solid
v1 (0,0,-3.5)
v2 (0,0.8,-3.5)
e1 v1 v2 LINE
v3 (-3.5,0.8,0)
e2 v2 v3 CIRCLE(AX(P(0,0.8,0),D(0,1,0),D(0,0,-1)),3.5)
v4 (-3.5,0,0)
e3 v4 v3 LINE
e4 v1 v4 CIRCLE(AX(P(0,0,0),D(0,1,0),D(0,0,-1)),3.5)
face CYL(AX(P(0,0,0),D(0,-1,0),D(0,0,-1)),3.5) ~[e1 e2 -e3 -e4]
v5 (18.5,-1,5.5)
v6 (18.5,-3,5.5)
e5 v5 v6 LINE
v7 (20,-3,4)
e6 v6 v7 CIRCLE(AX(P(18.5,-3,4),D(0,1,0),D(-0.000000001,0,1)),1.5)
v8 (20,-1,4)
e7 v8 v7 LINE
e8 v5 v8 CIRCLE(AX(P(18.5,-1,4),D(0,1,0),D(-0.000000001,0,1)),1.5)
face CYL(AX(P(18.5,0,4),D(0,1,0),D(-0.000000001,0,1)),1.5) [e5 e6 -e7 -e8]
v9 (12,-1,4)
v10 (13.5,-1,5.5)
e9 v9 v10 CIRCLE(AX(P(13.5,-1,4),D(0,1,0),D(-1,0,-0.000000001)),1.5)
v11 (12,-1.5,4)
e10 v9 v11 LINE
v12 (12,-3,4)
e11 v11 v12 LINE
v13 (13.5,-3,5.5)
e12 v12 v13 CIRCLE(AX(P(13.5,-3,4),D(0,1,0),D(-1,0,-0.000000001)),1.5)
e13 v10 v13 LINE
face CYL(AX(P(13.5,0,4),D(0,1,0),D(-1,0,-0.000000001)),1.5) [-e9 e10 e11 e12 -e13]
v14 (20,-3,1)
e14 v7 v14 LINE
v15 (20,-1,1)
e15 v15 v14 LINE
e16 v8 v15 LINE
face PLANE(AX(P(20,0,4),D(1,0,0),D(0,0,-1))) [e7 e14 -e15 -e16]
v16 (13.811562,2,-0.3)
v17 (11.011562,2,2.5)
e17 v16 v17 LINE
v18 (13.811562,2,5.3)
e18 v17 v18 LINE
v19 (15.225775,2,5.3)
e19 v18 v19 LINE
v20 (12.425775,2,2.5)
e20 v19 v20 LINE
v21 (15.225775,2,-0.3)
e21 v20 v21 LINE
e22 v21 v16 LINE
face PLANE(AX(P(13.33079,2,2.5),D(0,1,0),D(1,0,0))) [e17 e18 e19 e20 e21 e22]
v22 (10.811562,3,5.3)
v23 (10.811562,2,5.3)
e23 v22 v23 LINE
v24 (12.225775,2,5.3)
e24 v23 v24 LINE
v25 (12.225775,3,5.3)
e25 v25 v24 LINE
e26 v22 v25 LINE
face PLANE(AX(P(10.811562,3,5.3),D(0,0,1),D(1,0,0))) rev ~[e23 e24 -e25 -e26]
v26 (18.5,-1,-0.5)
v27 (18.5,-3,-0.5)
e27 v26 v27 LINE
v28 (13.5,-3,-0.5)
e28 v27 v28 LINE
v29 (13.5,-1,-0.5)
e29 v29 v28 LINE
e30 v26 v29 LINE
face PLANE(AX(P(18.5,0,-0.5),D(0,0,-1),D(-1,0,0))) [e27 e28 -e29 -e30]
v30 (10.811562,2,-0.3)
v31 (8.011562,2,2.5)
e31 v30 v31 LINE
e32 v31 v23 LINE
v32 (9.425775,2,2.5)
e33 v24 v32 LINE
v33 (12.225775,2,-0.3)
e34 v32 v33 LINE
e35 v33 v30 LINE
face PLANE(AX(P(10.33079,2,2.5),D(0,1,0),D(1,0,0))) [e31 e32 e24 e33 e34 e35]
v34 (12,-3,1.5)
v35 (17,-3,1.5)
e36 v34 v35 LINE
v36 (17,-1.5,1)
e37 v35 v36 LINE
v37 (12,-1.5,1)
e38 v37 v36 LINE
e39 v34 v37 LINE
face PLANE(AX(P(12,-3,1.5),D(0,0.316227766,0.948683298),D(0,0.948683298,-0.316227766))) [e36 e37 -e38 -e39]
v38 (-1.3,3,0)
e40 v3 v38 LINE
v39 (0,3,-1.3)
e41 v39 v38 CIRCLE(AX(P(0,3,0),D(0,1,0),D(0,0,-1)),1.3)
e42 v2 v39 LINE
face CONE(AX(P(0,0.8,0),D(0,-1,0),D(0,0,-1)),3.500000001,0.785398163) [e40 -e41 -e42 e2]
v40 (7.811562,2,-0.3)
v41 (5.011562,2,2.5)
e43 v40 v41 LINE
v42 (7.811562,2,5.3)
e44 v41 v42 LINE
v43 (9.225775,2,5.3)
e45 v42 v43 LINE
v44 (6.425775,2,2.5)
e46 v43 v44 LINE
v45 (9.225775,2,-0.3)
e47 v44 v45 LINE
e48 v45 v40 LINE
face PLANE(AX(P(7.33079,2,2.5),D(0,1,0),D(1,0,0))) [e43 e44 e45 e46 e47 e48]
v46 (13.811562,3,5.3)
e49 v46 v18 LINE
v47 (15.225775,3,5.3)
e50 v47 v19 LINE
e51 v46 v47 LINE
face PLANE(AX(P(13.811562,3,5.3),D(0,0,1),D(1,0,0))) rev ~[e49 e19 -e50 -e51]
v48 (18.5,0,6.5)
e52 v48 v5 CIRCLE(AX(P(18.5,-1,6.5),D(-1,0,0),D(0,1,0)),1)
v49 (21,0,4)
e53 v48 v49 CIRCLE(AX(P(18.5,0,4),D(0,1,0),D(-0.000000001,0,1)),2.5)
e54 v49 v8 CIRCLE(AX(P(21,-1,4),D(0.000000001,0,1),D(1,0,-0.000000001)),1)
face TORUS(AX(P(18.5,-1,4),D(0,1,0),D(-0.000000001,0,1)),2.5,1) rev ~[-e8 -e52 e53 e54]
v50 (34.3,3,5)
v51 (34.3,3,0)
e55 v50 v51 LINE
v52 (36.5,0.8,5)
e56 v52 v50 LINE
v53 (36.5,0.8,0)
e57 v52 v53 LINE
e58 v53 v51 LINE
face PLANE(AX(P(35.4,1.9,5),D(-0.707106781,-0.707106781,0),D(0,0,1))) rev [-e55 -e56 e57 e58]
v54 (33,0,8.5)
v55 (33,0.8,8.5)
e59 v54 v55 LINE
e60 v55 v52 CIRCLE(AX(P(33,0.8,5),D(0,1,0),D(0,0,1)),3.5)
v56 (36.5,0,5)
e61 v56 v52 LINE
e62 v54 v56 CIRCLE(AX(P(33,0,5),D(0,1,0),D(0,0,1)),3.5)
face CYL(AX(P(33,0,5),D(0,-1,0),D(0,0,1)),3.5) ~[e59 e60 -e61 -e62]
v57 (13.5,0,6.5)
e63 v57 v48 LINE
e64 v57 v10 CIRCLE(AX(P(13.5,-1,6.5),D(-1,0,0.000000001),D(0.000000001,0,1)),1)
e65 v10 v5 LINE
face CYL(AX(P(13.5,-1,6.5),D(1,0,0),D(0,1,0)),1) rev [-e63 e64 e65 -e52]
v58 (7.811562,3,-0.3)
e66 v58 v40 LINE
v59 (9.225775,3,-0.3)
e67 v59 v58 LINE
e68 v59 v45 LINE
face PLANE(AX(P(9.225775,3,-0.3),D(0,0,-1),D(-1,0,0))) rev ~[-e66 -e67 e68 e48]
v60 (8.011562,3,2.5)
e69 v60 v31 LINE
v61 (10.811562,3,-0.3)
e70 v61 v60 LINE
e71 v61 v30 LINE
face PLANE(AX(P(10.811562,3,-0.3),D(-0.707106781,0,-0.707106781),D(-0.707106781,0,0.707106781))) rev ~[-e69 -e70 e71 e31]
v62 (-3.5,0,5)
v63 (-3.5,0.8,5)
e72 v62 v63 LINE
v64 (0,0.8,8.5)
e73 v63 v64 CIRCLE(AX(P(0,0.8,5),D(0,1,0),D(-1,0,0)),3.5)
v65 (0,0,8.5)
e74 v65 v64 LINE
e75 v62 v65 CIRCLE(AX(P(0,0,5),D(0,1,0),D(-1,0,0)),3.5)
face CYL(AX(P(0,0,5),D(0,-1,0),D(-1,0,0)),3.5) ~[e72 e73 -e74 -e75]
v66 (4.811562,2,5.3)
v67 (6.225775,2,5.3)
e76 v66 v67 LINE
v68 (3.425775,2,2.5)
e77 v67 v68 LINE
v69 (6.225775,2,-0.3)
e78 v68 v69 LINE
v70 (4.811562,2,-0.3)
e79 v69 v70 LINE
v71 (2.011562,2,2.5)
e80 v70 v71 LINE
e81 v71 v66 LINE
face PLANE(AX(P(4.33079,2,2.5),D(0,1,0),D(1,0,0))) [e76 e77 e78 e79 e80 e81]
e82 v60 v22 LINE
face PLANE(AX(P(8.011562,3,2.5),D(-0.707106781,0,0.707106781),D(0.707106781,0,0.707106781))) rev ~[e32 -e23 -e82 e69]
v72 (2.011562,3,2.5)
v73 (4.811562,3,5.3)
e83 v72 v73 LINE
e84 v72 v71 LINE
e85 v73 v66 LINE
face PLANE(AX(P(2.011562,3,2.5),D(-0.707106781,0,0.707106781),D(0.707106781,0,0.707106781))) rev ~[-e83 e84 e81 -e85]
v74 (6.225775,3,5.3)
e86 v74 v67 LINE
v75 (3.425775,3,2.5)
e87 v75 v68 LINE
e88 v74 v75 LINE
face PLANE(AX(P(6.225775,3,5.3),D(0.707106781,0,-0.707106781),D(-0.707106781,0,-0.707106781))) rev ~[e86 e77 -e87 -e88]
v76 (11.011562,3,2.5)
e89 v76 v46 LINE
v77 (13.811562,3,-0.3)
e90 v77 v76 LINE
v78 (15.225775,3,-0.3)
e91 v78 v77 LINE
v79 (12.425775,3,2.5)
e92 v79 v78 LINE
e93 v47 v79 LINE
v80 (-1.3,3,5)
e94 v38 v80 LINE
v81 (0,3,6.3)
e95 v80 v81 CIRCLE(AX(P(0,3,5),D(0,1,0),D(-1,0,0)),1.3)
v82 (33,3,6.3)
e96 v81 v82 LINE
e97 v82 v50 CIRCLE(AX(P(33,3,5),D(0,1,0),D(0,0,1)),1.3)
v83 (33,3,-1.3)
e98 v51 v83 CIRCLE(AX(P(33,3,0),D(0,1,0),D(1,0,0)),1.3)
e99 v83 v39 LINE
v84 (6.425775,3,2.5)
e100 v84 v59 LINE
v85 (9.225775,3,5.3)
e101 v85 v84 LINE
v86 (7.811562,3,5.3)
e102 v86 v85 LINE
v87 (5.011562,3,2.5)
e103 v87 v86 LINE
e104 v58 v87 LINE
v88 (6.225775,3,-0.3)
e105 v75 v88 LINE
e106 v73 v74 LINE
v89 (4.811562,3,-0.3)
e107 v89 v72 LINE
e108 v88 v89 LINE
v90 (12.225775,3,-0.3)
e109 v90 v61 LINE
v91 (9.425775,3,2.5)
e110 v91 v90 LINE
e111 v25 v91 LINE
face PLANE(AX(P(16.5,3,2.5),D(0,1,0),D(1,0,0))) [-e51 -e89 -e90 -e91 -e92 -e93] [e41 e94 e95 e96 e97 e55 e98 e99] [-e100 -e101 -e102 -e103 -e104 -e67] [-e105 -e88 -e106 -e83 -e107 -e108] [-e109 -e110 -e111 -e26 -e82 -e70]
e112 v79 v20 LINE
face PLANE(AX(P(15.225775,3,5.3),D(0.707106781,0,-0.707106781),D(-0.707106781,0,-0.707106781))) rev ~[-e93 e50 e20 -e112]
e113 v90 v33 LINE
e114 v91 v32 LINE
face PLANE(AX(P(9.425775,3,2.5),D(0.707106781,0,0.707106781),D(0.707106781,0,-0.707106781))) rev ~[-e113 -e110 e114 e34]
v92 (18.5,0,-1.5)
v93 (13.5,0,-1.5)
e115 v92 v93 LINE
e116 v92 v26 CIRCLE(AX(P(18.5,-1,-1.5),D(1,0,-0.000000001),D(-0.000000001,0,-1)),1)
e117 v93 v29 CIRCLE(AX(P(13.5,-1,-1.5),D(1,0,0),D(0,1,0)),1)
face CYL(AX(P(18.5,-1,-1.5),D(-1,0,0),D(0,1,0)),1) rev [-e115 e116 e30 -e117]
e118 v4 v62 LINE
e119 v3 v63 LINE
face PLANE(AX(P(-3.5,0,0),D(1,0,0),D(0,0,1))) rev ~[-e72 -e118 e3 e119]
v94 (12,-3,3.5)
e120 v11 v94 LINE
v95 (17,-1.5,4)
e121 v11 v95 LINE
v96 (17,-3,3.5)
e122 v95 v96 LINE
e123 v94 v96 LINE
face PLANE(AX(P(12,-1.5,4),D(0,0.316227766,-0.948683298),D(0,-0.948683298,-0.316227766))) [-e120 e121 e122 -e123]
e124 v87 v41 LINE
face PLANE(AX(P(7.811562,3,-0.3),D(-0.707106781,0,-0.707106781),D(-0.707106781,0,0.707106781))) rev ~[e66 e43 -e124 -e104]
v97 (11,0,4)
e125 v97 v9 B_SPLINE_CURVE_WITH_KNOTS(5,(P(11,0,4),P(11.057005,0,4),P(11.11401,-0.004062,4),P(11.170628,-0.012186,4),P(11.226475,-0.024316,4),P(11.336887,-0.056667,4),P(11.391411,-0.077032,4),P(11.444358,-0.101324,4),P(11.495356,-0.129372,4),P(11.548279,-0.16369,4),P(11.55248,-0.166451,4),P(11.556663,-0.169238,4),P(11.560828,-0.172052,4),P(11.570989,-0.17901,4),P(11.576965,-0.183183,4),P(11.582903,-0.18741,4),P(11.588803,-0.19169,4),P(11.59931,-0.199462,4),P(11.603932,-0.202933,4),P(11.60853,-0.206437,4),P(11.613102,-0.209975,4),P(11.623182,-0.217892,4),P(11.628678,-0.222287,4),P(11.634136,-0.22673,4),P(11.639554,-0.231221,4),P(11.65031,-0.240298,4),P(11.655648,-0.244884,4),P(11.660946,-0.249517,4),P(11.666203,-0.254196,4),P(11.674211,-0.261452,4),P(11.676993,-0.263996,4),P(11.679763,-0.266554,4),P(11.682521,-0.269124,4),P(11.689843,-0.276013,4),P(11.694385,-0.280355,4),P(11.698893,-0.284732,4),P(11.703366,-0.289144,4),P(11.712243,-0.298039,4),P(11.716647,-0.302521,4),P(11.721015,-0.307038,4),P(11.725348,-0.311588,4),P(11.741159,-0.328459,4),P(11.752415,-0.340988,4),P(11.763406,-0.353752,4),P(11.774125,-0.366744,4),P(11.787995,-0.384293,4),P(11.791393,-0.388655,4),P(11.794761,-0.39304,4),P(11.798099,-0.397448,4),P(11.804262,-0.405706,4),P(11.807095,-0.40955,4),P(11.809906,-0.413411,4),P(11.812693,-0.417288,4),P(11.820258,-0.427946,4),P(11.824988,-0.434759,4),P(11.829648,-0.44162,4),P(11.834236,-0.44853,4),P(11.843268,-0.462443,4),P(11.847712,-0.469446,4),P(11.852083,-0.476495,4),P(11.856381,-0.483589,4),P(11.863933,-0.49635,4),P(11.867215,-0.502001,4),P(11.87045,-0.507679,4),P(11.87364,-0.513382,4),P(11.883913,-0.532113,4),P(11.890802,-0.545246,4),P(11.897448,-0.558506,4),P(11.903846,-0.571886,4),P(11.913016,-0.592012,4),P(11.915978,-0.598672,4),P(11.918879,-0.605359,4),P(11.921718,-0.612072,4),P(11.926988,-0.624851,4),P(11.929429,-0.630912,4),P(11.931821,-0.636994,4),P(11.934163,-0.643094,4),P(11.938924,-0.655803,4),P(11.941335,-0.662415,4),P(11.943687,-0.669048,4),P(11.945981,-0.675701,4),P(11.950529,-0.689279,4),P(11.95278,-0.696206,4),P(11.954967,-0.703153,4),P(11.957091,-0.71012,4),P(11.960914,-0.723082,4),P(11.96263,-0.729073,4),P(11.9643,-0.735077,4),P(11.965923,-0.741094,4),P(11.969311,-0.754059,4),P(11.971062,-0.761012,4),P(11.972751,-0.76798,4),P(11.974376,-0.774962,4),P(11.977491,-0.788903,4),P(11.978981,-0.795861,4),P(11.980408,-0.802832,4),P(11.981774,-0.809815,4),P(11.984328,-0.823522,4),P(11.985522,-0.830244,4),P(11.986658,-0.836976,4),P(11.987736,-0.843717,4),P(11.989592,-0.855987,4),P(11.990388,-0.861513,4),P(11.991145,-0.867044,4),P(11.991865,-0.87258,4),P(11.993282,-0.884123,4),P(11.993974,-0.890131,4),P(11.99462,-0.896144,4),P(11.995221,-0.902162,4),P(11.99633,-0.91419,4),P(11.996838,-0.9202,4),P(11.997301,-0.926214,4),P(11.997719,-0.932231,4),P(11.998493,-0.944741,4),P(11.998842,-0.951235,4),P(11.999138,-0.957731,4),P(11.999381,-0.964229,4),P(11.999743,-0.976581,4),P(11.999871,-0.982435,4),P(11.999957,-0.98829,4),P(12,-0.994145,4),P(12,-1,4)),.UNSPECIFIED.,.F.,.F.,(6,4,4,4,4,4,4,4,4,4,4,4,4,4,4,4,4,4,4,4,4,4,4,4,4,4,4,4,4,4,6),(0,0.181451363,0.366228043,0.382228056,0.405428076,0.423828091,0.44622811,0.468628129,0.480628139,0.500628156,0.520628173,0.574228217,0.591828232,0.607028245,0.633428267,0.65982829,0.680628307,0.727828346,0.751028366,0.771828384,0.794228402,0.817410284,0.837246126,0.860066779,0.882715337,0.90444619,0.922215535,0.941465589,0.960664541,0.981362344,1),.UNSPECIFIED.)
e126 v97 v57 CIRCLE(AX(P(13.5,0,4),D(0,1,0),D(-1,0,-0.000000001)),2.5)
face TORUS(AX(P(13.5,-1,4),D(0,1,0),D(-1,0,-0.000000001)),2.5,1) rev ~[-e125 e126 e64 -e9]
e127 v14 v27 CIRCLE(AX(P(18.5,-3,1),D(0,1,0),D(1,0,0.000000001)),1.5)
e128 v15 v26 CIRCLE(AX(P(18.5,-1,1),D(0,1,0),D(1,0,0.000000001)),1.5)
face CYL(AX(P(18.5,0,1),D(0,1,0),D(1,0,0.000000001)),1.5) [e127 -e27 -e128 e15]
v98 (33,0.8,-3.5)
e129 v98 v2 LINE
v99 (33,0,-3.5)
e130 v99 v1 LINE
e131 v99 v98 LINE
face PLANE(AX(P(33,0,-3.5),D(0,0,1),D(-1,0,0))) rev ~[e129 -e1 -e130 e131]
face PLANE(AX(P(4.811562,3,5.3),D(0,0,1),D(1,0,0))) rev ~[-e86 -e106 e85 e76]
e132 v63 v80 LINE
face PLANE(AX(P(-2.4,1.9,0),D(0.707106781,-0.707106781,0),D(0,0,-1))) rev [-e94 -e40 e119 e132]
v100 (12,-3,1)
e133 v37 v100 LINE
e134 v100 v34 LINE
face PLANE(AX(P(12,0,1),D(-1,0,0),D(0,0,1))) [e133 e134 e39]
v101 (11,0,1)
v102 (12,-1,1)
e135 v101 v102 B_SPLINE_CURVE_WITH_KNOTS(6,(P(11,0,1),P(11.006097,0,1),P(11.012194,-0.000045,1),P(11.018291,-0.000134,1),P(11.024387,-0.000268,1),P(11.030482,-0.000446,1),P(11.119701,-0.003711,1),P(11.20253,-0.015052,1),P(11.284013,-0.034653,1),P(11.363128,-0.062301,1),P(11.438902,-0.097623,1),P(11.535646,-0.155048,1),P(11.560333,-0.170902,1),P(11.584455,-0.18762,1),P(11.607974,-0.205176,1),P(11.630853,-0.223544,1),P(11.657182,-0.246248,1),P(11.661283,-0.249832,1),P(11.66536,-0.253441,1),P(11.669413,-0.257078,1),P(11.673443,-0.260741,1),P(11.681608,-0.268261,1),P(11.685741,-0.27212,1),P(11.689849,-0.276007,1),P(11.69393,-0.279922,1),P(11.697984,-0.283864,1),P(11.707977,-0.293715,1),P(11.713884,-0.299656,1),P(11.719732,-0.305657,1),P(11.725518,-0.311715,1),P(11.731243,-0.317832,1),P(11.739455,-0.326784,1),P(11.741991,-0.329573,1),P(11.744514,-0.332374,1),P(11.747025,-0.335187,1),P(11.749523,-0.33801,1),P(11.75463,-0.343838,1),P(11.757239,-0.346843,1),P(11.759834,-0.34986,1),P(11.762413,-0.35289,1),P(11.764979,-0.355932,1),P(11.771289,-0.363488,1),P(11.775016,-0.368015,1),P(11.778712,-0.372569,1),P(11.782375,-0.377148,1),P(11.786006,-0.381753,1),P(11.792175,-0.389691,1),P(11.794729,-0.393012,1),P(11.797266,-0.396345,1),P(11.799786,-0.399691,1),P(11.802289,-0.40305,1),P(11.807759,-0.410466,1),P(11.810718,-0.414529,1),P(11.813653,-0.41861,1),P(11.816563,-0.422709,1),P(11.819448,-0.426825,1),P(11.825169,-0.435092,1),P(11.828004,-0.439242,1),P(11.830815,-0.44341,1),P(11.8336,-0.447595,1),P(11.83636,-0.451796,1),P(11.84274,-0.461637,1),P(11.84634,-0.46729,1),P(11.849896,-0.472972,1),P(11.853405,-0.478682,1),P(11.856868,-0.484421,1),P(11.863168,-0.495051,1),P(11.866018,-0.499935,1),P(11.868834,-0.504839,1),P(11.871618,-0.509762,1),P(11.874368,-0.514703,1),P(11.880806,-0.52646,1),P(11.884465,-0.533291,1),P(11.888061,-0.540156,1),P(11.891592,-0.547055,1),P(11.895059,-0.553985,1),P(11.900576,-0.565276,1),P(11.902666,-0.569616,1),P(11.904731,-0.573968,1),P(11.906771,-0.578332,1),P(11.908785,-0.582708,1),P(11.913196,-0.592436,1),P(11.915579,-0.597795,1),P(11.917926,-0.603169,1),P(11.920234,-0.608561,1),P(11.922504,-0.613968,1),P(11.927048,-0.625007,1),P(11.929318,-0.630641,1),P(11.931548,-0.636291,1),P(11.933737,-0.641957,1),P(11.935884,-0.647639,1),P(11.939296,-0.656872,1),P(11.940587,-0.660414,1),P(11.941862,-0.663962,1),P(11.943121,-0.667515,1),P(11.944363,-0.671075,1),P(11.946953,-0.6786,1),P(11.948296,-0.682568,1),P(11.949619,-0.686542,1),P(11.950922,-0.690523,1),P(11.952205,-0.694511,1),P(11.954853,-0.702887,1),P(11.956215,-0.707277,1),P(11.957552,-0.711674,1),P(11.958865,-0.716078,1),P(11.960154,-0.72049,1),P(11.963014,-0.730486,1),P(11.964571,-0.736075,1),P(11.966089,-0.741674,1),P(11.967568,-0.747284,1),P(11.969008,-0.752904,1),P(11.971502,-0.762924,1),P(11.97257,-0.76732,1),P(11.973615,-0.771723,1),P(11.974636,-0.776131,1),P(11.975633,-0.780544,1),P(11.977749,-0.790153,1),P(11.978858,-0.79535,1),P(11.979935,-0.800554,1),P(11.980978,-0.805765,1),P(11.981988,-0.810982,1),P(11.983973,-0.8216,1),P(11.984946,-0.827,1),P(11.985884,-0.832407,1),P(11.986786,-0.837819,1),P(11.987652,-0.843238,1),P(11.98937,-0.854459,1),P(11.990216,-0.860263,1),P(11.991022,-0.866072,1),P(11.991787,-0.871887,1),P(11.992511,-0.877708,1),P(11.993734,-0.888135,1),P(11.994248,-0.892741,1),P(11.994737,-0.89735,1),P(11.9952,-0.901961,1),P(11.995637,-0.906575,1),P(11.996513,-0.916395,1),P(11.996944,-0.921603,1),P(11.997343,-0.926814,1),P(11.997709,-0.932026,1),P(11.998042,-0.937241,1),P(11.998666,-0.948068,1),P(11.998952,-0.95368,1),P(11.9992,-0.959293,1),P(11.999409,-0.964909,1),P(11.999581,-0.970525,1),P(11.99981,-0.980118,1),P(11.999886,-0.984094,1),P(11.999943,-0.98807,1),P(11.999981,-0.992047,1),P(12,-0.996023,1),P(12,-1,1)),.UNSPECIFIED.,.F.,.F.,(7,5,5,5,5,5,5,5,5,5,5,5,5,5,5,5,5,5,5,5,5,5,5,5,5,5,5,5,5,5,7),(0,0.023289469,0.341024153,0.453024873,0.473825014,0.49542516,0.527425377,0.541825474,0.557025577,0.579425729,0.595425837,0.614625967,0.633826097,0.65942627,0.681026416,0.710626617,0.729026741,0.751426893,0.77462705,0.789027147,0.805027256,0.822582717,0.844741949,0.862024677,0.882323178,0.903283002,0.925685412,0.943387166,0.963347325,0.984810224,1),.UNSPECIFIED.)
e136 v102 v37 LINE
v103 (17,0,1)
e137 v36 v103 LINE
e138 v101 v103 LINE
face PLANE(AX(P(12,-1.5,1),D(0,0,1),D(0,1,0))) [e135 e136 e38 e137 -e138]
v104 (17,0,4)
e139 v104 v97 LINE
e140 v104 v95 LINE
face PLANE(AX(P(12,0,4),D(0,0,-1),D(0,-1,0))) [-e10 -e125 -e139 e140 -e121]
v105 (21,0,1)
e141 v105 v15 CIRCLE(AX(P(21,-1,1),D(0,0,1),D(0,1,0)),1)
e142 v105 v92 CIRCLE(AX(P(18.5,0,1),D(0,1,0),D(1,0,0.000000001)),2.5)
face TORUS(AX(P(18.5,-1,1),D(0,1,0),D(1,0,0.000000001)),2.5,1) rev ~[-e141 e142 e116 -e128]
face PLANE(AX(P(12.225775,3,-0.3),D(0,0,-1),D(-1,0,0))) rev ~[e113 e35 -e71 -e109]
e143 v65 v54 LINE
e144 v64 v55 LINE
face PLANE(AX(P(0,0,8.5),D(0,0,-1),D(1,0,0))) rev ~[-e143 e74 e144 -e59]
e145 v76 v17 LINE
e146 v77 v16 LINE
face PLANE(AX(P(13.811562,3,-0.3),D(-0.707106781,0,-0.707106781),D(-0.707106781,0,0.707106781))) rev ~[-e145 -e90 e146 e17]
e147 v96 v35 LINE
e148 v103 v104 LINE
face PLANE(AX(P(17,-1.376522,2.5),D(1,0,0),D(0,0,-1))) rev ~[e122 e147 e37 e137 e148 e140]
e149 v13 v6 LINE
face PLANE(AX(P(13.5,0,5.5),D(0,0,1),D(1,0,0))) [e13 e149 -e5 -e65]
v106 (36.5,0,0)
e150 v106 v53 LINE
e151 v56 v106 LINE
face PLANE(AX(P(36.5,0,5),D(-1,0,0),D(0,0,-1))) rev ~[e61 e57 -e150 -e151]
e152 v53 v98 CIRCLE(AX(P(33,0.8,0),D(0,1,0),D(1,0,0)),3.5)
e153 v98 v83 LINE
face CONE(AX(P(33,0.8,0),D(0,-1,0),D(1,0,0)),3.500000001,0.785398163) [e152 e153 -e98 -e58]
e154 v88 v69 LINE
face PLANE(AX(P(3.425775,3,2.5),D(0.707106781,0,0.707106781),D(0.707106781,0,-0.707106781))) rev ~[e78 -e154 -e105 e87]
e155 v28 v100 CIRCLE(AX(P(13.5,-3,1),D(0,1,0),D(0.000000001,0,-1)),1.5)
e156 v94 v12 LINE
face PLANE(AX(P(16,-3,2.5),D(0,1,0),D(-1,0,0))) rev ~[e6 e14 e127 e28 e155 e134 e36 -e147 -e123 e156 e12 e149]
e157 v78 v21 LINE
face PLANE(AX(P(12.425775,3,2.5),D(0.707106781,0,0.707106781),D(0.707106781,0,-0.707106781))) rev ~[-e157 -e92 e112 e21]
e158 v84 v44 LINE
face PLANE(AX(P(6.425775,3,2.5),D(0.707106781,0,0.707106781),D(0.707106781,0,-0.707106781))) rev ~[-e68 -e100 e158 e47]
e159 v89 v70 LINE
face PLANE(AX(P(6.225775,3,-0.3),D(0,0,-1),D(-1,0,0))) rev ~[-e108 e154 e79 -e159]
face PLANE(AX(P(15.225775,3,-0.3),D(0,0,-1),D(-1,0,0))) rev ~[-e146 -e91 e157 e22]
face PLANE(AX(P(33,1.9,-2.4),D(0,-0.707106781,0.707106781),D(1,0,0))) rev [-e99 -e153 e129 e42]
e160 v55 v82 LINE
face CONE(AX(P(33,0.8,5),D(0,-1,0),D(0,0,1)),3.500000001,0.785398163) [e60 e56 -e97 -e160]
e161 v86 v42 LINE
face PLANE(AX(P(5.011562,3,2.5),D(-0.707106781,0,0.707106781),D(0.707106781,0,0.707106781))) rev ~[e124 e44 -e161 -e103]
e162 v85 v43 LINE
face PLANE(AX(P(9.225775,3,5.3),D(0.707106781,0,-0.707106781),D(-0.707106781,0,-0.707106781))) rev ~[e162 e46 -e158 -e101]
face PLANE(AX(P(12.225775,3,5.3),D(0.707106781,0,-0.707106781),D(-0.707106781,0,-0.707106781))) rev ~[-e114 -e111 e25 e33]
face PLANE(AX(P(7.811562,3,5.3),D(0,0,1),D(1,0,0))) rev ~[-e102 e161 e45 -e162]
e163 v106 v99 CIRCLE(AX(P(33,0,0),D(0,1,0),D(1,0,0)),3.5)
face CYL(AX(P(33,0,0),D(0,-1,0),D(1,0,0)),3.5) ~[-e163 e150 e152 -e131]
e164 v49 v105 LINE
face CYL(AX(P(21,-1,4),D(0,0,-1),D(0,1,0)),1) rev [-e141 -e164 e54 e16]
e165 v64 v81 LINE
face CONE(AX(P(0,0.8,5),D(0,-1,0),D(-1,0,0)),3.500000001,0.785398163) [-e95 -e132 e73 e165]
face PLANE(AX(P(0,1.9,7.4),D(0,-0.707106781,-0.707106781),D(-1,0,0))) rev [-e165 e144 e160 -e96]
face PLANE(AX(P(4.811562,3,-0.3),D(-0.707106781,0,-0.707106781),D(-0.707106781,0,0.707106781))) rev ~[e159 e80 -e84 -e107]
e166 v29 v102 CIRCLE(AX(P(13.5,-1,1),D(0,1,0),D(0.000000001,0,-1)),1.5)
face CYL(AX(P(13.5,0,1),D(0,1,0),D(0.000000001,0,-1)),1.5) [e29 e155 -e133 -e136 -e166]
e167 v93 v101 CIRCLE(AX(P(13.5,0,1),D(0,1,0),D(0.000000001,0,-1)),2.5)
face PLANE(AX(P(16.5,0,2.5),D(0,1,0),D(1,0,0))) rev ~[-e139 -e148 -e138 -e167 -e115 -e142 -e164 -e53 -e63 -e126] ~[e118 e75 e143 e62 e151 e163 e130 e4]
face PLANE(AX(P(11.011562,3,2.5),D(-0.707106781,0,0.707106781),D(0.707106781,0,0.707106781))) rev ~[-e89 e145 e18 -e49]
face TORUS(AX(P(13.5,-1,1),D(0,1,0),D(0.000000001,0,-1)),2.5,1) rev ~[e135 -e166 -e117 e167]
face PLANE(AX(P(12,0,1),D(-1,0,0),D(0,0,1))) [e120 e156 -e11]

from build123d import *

# Parameters (mm, degrees)
BOSS_EXTRUDE1_DEPTH = 3
CHAMFER1_SIZE       = 2.2
BOSS_EXTRUDE2_DEPTH = 3
CUT_EXTRUDE1_DEPTH  = 1
CUT_EXTRUDE2_DEPTH  = 5
FILLET1_R           = 1


with BuildPart() as part:
    # Sketch1 → Boss-Extrude1 (new body)
    with BuildSketch(Plane(origin=(0, 0, 0), x_dir=(1, 0, 0), z_dir=(0, 1, 0))):
        with BuildLine():
            Line((24, -8.5), (33, -8.5))
            ThreePointArc((33, -8.5), (35.474873734, -7.474873734), (36.5, -5))
            Line((36.5, -5), (36.5, 0))
            ThreePointArc((36.5, 0), (35.474873734, 2.474873734), (33, 3.5))
            Line((33, 3.5), (24, 3.5))
            Line((24, 3.5), (0, 3.5))
            ThreePointArc((0, 3.5), (-2.474873734, 2.474873734), (-3.5, 0))
            Line((-3.5, 0), (-3.5, -5))
            ThreePointArc((-3.5, -5), (-2.474873734, -7.474873734), (0, -8.5))
            Line((0, -8.5), (24, -8.5))
        make_face()
    extrude(amount=BOSS_EXTRUDE1_DEPTH)

    # Chamfer1
    chamfer1_edges = [part.edges().sort_by_distance(p)[0] for p in [
        (-3.5, 3, 2.5),
        (-2.474873734, 3, 7.474873734),
        (16.5, 3, 8.5),
        (35.474873734, 3, 7.474873734),
        (36.5, 3, 2.5),
        (35.474873734, 3, -2.474873734),
        (16.5, 3, -3.5),
        (-2.474873734, 3, -2.474873734),
    ]]
    chamfer(chamfer1_edges, length=CHAMFER1_SIZE)

    # Sketch2 → Boss-Extrude2 (add)
    with BuildSketch(Plane.XZ):
        with BuildLine():
            Line((13.5, 5.5), (18.5, 5.5))
            ThreePointArc((18.5, 5.5), (19.560660172, 5.060660172), (20, 4))
            Line((20, 4), (20, 1))
            ThreePointArc((20, 1), (19.560660172, -0.060660172), (18.5, -0.5))
            Line((18.5, -0.5), (13.5, -0.5))
            ThreePointArc((13.5, -0.5), (12.439339828, -0.060660172), (12, 1))
            Line((12, 1), (12, 4))
            ThreePointArc((12, 4), (12.439339828, 5.060660172), (13.5, 5.5))
        make_face()
    extrude(amount=BOSS_EXTRUDE2_DEPTH)

    # Sketch3 → Cut-Extrude1 (cut)
    with BuildSketch(Plane(origin=(0, 3, 0), x_dir=(1, 0, 0), z_dir=(0, 1, 0))):
        Polygon((6.225775105, 0.3), (4.811561543, 0.3), (2.011561543, -2.5), (4.811561543, -5.3), (6.225775105, -5.3), (3.425775105, -2.5), align=None)
        Polygon((9.225775105, 0.3), (7.811561543, 0.3), (5.011561543, -2.5), (7.811561543, -5.3), (9.225775105, -5.3), (6.425775105, -2.5), align=None)
        Polygon((12.225775105, 0.3), (10.811561543, 0.3), (8.011561543, -2.5), (10.811561543, -5.3), (12.225775105, -5.3), (9.425775105, -2.5), align=None)
        Polygon((15.225775105, 0.3), (13.811561543, 0.3), (11.011561543, -2.5), (13.811561543, -5.3), (15.225775105, -5.3), (12.425775105, -2.5), align=None)
    extrude(amount=-CUT_EXTRUDE1_DEPTH, mode=Mode.SUBTRACT)

    # Sketch4 → Cut-Extrude2 (cut)
    with BuildSketch(Plane.ZY.offset(-12)):
        Polygon((1.5, -3), (1, -1.5), (1, 0), (4, 0), (4, -1.5), (3.5, -3), align=None)
    extrude(amount=-CUT_EXTRUDE2_DEPTH, mode=Mode.SUBTRACT)

    # Fillet1
    fillet1_edges = [part.edges().sort_by_distance(p)[0] for p in [
        (12.439339828, 0, 5.060660172),
        (12.439339828, 0, -0.060660172),
        (16, 0, -0.5),
        (19.560660172, 0, -0.060660172),
        (20, 0, 2.5),
        (19.560660172, 0, 5.060660172),
        (16, 0, 5.5),
    ]]
    fillet(fillet1_edges, radius=FILLET1_R)


solid = part.part
